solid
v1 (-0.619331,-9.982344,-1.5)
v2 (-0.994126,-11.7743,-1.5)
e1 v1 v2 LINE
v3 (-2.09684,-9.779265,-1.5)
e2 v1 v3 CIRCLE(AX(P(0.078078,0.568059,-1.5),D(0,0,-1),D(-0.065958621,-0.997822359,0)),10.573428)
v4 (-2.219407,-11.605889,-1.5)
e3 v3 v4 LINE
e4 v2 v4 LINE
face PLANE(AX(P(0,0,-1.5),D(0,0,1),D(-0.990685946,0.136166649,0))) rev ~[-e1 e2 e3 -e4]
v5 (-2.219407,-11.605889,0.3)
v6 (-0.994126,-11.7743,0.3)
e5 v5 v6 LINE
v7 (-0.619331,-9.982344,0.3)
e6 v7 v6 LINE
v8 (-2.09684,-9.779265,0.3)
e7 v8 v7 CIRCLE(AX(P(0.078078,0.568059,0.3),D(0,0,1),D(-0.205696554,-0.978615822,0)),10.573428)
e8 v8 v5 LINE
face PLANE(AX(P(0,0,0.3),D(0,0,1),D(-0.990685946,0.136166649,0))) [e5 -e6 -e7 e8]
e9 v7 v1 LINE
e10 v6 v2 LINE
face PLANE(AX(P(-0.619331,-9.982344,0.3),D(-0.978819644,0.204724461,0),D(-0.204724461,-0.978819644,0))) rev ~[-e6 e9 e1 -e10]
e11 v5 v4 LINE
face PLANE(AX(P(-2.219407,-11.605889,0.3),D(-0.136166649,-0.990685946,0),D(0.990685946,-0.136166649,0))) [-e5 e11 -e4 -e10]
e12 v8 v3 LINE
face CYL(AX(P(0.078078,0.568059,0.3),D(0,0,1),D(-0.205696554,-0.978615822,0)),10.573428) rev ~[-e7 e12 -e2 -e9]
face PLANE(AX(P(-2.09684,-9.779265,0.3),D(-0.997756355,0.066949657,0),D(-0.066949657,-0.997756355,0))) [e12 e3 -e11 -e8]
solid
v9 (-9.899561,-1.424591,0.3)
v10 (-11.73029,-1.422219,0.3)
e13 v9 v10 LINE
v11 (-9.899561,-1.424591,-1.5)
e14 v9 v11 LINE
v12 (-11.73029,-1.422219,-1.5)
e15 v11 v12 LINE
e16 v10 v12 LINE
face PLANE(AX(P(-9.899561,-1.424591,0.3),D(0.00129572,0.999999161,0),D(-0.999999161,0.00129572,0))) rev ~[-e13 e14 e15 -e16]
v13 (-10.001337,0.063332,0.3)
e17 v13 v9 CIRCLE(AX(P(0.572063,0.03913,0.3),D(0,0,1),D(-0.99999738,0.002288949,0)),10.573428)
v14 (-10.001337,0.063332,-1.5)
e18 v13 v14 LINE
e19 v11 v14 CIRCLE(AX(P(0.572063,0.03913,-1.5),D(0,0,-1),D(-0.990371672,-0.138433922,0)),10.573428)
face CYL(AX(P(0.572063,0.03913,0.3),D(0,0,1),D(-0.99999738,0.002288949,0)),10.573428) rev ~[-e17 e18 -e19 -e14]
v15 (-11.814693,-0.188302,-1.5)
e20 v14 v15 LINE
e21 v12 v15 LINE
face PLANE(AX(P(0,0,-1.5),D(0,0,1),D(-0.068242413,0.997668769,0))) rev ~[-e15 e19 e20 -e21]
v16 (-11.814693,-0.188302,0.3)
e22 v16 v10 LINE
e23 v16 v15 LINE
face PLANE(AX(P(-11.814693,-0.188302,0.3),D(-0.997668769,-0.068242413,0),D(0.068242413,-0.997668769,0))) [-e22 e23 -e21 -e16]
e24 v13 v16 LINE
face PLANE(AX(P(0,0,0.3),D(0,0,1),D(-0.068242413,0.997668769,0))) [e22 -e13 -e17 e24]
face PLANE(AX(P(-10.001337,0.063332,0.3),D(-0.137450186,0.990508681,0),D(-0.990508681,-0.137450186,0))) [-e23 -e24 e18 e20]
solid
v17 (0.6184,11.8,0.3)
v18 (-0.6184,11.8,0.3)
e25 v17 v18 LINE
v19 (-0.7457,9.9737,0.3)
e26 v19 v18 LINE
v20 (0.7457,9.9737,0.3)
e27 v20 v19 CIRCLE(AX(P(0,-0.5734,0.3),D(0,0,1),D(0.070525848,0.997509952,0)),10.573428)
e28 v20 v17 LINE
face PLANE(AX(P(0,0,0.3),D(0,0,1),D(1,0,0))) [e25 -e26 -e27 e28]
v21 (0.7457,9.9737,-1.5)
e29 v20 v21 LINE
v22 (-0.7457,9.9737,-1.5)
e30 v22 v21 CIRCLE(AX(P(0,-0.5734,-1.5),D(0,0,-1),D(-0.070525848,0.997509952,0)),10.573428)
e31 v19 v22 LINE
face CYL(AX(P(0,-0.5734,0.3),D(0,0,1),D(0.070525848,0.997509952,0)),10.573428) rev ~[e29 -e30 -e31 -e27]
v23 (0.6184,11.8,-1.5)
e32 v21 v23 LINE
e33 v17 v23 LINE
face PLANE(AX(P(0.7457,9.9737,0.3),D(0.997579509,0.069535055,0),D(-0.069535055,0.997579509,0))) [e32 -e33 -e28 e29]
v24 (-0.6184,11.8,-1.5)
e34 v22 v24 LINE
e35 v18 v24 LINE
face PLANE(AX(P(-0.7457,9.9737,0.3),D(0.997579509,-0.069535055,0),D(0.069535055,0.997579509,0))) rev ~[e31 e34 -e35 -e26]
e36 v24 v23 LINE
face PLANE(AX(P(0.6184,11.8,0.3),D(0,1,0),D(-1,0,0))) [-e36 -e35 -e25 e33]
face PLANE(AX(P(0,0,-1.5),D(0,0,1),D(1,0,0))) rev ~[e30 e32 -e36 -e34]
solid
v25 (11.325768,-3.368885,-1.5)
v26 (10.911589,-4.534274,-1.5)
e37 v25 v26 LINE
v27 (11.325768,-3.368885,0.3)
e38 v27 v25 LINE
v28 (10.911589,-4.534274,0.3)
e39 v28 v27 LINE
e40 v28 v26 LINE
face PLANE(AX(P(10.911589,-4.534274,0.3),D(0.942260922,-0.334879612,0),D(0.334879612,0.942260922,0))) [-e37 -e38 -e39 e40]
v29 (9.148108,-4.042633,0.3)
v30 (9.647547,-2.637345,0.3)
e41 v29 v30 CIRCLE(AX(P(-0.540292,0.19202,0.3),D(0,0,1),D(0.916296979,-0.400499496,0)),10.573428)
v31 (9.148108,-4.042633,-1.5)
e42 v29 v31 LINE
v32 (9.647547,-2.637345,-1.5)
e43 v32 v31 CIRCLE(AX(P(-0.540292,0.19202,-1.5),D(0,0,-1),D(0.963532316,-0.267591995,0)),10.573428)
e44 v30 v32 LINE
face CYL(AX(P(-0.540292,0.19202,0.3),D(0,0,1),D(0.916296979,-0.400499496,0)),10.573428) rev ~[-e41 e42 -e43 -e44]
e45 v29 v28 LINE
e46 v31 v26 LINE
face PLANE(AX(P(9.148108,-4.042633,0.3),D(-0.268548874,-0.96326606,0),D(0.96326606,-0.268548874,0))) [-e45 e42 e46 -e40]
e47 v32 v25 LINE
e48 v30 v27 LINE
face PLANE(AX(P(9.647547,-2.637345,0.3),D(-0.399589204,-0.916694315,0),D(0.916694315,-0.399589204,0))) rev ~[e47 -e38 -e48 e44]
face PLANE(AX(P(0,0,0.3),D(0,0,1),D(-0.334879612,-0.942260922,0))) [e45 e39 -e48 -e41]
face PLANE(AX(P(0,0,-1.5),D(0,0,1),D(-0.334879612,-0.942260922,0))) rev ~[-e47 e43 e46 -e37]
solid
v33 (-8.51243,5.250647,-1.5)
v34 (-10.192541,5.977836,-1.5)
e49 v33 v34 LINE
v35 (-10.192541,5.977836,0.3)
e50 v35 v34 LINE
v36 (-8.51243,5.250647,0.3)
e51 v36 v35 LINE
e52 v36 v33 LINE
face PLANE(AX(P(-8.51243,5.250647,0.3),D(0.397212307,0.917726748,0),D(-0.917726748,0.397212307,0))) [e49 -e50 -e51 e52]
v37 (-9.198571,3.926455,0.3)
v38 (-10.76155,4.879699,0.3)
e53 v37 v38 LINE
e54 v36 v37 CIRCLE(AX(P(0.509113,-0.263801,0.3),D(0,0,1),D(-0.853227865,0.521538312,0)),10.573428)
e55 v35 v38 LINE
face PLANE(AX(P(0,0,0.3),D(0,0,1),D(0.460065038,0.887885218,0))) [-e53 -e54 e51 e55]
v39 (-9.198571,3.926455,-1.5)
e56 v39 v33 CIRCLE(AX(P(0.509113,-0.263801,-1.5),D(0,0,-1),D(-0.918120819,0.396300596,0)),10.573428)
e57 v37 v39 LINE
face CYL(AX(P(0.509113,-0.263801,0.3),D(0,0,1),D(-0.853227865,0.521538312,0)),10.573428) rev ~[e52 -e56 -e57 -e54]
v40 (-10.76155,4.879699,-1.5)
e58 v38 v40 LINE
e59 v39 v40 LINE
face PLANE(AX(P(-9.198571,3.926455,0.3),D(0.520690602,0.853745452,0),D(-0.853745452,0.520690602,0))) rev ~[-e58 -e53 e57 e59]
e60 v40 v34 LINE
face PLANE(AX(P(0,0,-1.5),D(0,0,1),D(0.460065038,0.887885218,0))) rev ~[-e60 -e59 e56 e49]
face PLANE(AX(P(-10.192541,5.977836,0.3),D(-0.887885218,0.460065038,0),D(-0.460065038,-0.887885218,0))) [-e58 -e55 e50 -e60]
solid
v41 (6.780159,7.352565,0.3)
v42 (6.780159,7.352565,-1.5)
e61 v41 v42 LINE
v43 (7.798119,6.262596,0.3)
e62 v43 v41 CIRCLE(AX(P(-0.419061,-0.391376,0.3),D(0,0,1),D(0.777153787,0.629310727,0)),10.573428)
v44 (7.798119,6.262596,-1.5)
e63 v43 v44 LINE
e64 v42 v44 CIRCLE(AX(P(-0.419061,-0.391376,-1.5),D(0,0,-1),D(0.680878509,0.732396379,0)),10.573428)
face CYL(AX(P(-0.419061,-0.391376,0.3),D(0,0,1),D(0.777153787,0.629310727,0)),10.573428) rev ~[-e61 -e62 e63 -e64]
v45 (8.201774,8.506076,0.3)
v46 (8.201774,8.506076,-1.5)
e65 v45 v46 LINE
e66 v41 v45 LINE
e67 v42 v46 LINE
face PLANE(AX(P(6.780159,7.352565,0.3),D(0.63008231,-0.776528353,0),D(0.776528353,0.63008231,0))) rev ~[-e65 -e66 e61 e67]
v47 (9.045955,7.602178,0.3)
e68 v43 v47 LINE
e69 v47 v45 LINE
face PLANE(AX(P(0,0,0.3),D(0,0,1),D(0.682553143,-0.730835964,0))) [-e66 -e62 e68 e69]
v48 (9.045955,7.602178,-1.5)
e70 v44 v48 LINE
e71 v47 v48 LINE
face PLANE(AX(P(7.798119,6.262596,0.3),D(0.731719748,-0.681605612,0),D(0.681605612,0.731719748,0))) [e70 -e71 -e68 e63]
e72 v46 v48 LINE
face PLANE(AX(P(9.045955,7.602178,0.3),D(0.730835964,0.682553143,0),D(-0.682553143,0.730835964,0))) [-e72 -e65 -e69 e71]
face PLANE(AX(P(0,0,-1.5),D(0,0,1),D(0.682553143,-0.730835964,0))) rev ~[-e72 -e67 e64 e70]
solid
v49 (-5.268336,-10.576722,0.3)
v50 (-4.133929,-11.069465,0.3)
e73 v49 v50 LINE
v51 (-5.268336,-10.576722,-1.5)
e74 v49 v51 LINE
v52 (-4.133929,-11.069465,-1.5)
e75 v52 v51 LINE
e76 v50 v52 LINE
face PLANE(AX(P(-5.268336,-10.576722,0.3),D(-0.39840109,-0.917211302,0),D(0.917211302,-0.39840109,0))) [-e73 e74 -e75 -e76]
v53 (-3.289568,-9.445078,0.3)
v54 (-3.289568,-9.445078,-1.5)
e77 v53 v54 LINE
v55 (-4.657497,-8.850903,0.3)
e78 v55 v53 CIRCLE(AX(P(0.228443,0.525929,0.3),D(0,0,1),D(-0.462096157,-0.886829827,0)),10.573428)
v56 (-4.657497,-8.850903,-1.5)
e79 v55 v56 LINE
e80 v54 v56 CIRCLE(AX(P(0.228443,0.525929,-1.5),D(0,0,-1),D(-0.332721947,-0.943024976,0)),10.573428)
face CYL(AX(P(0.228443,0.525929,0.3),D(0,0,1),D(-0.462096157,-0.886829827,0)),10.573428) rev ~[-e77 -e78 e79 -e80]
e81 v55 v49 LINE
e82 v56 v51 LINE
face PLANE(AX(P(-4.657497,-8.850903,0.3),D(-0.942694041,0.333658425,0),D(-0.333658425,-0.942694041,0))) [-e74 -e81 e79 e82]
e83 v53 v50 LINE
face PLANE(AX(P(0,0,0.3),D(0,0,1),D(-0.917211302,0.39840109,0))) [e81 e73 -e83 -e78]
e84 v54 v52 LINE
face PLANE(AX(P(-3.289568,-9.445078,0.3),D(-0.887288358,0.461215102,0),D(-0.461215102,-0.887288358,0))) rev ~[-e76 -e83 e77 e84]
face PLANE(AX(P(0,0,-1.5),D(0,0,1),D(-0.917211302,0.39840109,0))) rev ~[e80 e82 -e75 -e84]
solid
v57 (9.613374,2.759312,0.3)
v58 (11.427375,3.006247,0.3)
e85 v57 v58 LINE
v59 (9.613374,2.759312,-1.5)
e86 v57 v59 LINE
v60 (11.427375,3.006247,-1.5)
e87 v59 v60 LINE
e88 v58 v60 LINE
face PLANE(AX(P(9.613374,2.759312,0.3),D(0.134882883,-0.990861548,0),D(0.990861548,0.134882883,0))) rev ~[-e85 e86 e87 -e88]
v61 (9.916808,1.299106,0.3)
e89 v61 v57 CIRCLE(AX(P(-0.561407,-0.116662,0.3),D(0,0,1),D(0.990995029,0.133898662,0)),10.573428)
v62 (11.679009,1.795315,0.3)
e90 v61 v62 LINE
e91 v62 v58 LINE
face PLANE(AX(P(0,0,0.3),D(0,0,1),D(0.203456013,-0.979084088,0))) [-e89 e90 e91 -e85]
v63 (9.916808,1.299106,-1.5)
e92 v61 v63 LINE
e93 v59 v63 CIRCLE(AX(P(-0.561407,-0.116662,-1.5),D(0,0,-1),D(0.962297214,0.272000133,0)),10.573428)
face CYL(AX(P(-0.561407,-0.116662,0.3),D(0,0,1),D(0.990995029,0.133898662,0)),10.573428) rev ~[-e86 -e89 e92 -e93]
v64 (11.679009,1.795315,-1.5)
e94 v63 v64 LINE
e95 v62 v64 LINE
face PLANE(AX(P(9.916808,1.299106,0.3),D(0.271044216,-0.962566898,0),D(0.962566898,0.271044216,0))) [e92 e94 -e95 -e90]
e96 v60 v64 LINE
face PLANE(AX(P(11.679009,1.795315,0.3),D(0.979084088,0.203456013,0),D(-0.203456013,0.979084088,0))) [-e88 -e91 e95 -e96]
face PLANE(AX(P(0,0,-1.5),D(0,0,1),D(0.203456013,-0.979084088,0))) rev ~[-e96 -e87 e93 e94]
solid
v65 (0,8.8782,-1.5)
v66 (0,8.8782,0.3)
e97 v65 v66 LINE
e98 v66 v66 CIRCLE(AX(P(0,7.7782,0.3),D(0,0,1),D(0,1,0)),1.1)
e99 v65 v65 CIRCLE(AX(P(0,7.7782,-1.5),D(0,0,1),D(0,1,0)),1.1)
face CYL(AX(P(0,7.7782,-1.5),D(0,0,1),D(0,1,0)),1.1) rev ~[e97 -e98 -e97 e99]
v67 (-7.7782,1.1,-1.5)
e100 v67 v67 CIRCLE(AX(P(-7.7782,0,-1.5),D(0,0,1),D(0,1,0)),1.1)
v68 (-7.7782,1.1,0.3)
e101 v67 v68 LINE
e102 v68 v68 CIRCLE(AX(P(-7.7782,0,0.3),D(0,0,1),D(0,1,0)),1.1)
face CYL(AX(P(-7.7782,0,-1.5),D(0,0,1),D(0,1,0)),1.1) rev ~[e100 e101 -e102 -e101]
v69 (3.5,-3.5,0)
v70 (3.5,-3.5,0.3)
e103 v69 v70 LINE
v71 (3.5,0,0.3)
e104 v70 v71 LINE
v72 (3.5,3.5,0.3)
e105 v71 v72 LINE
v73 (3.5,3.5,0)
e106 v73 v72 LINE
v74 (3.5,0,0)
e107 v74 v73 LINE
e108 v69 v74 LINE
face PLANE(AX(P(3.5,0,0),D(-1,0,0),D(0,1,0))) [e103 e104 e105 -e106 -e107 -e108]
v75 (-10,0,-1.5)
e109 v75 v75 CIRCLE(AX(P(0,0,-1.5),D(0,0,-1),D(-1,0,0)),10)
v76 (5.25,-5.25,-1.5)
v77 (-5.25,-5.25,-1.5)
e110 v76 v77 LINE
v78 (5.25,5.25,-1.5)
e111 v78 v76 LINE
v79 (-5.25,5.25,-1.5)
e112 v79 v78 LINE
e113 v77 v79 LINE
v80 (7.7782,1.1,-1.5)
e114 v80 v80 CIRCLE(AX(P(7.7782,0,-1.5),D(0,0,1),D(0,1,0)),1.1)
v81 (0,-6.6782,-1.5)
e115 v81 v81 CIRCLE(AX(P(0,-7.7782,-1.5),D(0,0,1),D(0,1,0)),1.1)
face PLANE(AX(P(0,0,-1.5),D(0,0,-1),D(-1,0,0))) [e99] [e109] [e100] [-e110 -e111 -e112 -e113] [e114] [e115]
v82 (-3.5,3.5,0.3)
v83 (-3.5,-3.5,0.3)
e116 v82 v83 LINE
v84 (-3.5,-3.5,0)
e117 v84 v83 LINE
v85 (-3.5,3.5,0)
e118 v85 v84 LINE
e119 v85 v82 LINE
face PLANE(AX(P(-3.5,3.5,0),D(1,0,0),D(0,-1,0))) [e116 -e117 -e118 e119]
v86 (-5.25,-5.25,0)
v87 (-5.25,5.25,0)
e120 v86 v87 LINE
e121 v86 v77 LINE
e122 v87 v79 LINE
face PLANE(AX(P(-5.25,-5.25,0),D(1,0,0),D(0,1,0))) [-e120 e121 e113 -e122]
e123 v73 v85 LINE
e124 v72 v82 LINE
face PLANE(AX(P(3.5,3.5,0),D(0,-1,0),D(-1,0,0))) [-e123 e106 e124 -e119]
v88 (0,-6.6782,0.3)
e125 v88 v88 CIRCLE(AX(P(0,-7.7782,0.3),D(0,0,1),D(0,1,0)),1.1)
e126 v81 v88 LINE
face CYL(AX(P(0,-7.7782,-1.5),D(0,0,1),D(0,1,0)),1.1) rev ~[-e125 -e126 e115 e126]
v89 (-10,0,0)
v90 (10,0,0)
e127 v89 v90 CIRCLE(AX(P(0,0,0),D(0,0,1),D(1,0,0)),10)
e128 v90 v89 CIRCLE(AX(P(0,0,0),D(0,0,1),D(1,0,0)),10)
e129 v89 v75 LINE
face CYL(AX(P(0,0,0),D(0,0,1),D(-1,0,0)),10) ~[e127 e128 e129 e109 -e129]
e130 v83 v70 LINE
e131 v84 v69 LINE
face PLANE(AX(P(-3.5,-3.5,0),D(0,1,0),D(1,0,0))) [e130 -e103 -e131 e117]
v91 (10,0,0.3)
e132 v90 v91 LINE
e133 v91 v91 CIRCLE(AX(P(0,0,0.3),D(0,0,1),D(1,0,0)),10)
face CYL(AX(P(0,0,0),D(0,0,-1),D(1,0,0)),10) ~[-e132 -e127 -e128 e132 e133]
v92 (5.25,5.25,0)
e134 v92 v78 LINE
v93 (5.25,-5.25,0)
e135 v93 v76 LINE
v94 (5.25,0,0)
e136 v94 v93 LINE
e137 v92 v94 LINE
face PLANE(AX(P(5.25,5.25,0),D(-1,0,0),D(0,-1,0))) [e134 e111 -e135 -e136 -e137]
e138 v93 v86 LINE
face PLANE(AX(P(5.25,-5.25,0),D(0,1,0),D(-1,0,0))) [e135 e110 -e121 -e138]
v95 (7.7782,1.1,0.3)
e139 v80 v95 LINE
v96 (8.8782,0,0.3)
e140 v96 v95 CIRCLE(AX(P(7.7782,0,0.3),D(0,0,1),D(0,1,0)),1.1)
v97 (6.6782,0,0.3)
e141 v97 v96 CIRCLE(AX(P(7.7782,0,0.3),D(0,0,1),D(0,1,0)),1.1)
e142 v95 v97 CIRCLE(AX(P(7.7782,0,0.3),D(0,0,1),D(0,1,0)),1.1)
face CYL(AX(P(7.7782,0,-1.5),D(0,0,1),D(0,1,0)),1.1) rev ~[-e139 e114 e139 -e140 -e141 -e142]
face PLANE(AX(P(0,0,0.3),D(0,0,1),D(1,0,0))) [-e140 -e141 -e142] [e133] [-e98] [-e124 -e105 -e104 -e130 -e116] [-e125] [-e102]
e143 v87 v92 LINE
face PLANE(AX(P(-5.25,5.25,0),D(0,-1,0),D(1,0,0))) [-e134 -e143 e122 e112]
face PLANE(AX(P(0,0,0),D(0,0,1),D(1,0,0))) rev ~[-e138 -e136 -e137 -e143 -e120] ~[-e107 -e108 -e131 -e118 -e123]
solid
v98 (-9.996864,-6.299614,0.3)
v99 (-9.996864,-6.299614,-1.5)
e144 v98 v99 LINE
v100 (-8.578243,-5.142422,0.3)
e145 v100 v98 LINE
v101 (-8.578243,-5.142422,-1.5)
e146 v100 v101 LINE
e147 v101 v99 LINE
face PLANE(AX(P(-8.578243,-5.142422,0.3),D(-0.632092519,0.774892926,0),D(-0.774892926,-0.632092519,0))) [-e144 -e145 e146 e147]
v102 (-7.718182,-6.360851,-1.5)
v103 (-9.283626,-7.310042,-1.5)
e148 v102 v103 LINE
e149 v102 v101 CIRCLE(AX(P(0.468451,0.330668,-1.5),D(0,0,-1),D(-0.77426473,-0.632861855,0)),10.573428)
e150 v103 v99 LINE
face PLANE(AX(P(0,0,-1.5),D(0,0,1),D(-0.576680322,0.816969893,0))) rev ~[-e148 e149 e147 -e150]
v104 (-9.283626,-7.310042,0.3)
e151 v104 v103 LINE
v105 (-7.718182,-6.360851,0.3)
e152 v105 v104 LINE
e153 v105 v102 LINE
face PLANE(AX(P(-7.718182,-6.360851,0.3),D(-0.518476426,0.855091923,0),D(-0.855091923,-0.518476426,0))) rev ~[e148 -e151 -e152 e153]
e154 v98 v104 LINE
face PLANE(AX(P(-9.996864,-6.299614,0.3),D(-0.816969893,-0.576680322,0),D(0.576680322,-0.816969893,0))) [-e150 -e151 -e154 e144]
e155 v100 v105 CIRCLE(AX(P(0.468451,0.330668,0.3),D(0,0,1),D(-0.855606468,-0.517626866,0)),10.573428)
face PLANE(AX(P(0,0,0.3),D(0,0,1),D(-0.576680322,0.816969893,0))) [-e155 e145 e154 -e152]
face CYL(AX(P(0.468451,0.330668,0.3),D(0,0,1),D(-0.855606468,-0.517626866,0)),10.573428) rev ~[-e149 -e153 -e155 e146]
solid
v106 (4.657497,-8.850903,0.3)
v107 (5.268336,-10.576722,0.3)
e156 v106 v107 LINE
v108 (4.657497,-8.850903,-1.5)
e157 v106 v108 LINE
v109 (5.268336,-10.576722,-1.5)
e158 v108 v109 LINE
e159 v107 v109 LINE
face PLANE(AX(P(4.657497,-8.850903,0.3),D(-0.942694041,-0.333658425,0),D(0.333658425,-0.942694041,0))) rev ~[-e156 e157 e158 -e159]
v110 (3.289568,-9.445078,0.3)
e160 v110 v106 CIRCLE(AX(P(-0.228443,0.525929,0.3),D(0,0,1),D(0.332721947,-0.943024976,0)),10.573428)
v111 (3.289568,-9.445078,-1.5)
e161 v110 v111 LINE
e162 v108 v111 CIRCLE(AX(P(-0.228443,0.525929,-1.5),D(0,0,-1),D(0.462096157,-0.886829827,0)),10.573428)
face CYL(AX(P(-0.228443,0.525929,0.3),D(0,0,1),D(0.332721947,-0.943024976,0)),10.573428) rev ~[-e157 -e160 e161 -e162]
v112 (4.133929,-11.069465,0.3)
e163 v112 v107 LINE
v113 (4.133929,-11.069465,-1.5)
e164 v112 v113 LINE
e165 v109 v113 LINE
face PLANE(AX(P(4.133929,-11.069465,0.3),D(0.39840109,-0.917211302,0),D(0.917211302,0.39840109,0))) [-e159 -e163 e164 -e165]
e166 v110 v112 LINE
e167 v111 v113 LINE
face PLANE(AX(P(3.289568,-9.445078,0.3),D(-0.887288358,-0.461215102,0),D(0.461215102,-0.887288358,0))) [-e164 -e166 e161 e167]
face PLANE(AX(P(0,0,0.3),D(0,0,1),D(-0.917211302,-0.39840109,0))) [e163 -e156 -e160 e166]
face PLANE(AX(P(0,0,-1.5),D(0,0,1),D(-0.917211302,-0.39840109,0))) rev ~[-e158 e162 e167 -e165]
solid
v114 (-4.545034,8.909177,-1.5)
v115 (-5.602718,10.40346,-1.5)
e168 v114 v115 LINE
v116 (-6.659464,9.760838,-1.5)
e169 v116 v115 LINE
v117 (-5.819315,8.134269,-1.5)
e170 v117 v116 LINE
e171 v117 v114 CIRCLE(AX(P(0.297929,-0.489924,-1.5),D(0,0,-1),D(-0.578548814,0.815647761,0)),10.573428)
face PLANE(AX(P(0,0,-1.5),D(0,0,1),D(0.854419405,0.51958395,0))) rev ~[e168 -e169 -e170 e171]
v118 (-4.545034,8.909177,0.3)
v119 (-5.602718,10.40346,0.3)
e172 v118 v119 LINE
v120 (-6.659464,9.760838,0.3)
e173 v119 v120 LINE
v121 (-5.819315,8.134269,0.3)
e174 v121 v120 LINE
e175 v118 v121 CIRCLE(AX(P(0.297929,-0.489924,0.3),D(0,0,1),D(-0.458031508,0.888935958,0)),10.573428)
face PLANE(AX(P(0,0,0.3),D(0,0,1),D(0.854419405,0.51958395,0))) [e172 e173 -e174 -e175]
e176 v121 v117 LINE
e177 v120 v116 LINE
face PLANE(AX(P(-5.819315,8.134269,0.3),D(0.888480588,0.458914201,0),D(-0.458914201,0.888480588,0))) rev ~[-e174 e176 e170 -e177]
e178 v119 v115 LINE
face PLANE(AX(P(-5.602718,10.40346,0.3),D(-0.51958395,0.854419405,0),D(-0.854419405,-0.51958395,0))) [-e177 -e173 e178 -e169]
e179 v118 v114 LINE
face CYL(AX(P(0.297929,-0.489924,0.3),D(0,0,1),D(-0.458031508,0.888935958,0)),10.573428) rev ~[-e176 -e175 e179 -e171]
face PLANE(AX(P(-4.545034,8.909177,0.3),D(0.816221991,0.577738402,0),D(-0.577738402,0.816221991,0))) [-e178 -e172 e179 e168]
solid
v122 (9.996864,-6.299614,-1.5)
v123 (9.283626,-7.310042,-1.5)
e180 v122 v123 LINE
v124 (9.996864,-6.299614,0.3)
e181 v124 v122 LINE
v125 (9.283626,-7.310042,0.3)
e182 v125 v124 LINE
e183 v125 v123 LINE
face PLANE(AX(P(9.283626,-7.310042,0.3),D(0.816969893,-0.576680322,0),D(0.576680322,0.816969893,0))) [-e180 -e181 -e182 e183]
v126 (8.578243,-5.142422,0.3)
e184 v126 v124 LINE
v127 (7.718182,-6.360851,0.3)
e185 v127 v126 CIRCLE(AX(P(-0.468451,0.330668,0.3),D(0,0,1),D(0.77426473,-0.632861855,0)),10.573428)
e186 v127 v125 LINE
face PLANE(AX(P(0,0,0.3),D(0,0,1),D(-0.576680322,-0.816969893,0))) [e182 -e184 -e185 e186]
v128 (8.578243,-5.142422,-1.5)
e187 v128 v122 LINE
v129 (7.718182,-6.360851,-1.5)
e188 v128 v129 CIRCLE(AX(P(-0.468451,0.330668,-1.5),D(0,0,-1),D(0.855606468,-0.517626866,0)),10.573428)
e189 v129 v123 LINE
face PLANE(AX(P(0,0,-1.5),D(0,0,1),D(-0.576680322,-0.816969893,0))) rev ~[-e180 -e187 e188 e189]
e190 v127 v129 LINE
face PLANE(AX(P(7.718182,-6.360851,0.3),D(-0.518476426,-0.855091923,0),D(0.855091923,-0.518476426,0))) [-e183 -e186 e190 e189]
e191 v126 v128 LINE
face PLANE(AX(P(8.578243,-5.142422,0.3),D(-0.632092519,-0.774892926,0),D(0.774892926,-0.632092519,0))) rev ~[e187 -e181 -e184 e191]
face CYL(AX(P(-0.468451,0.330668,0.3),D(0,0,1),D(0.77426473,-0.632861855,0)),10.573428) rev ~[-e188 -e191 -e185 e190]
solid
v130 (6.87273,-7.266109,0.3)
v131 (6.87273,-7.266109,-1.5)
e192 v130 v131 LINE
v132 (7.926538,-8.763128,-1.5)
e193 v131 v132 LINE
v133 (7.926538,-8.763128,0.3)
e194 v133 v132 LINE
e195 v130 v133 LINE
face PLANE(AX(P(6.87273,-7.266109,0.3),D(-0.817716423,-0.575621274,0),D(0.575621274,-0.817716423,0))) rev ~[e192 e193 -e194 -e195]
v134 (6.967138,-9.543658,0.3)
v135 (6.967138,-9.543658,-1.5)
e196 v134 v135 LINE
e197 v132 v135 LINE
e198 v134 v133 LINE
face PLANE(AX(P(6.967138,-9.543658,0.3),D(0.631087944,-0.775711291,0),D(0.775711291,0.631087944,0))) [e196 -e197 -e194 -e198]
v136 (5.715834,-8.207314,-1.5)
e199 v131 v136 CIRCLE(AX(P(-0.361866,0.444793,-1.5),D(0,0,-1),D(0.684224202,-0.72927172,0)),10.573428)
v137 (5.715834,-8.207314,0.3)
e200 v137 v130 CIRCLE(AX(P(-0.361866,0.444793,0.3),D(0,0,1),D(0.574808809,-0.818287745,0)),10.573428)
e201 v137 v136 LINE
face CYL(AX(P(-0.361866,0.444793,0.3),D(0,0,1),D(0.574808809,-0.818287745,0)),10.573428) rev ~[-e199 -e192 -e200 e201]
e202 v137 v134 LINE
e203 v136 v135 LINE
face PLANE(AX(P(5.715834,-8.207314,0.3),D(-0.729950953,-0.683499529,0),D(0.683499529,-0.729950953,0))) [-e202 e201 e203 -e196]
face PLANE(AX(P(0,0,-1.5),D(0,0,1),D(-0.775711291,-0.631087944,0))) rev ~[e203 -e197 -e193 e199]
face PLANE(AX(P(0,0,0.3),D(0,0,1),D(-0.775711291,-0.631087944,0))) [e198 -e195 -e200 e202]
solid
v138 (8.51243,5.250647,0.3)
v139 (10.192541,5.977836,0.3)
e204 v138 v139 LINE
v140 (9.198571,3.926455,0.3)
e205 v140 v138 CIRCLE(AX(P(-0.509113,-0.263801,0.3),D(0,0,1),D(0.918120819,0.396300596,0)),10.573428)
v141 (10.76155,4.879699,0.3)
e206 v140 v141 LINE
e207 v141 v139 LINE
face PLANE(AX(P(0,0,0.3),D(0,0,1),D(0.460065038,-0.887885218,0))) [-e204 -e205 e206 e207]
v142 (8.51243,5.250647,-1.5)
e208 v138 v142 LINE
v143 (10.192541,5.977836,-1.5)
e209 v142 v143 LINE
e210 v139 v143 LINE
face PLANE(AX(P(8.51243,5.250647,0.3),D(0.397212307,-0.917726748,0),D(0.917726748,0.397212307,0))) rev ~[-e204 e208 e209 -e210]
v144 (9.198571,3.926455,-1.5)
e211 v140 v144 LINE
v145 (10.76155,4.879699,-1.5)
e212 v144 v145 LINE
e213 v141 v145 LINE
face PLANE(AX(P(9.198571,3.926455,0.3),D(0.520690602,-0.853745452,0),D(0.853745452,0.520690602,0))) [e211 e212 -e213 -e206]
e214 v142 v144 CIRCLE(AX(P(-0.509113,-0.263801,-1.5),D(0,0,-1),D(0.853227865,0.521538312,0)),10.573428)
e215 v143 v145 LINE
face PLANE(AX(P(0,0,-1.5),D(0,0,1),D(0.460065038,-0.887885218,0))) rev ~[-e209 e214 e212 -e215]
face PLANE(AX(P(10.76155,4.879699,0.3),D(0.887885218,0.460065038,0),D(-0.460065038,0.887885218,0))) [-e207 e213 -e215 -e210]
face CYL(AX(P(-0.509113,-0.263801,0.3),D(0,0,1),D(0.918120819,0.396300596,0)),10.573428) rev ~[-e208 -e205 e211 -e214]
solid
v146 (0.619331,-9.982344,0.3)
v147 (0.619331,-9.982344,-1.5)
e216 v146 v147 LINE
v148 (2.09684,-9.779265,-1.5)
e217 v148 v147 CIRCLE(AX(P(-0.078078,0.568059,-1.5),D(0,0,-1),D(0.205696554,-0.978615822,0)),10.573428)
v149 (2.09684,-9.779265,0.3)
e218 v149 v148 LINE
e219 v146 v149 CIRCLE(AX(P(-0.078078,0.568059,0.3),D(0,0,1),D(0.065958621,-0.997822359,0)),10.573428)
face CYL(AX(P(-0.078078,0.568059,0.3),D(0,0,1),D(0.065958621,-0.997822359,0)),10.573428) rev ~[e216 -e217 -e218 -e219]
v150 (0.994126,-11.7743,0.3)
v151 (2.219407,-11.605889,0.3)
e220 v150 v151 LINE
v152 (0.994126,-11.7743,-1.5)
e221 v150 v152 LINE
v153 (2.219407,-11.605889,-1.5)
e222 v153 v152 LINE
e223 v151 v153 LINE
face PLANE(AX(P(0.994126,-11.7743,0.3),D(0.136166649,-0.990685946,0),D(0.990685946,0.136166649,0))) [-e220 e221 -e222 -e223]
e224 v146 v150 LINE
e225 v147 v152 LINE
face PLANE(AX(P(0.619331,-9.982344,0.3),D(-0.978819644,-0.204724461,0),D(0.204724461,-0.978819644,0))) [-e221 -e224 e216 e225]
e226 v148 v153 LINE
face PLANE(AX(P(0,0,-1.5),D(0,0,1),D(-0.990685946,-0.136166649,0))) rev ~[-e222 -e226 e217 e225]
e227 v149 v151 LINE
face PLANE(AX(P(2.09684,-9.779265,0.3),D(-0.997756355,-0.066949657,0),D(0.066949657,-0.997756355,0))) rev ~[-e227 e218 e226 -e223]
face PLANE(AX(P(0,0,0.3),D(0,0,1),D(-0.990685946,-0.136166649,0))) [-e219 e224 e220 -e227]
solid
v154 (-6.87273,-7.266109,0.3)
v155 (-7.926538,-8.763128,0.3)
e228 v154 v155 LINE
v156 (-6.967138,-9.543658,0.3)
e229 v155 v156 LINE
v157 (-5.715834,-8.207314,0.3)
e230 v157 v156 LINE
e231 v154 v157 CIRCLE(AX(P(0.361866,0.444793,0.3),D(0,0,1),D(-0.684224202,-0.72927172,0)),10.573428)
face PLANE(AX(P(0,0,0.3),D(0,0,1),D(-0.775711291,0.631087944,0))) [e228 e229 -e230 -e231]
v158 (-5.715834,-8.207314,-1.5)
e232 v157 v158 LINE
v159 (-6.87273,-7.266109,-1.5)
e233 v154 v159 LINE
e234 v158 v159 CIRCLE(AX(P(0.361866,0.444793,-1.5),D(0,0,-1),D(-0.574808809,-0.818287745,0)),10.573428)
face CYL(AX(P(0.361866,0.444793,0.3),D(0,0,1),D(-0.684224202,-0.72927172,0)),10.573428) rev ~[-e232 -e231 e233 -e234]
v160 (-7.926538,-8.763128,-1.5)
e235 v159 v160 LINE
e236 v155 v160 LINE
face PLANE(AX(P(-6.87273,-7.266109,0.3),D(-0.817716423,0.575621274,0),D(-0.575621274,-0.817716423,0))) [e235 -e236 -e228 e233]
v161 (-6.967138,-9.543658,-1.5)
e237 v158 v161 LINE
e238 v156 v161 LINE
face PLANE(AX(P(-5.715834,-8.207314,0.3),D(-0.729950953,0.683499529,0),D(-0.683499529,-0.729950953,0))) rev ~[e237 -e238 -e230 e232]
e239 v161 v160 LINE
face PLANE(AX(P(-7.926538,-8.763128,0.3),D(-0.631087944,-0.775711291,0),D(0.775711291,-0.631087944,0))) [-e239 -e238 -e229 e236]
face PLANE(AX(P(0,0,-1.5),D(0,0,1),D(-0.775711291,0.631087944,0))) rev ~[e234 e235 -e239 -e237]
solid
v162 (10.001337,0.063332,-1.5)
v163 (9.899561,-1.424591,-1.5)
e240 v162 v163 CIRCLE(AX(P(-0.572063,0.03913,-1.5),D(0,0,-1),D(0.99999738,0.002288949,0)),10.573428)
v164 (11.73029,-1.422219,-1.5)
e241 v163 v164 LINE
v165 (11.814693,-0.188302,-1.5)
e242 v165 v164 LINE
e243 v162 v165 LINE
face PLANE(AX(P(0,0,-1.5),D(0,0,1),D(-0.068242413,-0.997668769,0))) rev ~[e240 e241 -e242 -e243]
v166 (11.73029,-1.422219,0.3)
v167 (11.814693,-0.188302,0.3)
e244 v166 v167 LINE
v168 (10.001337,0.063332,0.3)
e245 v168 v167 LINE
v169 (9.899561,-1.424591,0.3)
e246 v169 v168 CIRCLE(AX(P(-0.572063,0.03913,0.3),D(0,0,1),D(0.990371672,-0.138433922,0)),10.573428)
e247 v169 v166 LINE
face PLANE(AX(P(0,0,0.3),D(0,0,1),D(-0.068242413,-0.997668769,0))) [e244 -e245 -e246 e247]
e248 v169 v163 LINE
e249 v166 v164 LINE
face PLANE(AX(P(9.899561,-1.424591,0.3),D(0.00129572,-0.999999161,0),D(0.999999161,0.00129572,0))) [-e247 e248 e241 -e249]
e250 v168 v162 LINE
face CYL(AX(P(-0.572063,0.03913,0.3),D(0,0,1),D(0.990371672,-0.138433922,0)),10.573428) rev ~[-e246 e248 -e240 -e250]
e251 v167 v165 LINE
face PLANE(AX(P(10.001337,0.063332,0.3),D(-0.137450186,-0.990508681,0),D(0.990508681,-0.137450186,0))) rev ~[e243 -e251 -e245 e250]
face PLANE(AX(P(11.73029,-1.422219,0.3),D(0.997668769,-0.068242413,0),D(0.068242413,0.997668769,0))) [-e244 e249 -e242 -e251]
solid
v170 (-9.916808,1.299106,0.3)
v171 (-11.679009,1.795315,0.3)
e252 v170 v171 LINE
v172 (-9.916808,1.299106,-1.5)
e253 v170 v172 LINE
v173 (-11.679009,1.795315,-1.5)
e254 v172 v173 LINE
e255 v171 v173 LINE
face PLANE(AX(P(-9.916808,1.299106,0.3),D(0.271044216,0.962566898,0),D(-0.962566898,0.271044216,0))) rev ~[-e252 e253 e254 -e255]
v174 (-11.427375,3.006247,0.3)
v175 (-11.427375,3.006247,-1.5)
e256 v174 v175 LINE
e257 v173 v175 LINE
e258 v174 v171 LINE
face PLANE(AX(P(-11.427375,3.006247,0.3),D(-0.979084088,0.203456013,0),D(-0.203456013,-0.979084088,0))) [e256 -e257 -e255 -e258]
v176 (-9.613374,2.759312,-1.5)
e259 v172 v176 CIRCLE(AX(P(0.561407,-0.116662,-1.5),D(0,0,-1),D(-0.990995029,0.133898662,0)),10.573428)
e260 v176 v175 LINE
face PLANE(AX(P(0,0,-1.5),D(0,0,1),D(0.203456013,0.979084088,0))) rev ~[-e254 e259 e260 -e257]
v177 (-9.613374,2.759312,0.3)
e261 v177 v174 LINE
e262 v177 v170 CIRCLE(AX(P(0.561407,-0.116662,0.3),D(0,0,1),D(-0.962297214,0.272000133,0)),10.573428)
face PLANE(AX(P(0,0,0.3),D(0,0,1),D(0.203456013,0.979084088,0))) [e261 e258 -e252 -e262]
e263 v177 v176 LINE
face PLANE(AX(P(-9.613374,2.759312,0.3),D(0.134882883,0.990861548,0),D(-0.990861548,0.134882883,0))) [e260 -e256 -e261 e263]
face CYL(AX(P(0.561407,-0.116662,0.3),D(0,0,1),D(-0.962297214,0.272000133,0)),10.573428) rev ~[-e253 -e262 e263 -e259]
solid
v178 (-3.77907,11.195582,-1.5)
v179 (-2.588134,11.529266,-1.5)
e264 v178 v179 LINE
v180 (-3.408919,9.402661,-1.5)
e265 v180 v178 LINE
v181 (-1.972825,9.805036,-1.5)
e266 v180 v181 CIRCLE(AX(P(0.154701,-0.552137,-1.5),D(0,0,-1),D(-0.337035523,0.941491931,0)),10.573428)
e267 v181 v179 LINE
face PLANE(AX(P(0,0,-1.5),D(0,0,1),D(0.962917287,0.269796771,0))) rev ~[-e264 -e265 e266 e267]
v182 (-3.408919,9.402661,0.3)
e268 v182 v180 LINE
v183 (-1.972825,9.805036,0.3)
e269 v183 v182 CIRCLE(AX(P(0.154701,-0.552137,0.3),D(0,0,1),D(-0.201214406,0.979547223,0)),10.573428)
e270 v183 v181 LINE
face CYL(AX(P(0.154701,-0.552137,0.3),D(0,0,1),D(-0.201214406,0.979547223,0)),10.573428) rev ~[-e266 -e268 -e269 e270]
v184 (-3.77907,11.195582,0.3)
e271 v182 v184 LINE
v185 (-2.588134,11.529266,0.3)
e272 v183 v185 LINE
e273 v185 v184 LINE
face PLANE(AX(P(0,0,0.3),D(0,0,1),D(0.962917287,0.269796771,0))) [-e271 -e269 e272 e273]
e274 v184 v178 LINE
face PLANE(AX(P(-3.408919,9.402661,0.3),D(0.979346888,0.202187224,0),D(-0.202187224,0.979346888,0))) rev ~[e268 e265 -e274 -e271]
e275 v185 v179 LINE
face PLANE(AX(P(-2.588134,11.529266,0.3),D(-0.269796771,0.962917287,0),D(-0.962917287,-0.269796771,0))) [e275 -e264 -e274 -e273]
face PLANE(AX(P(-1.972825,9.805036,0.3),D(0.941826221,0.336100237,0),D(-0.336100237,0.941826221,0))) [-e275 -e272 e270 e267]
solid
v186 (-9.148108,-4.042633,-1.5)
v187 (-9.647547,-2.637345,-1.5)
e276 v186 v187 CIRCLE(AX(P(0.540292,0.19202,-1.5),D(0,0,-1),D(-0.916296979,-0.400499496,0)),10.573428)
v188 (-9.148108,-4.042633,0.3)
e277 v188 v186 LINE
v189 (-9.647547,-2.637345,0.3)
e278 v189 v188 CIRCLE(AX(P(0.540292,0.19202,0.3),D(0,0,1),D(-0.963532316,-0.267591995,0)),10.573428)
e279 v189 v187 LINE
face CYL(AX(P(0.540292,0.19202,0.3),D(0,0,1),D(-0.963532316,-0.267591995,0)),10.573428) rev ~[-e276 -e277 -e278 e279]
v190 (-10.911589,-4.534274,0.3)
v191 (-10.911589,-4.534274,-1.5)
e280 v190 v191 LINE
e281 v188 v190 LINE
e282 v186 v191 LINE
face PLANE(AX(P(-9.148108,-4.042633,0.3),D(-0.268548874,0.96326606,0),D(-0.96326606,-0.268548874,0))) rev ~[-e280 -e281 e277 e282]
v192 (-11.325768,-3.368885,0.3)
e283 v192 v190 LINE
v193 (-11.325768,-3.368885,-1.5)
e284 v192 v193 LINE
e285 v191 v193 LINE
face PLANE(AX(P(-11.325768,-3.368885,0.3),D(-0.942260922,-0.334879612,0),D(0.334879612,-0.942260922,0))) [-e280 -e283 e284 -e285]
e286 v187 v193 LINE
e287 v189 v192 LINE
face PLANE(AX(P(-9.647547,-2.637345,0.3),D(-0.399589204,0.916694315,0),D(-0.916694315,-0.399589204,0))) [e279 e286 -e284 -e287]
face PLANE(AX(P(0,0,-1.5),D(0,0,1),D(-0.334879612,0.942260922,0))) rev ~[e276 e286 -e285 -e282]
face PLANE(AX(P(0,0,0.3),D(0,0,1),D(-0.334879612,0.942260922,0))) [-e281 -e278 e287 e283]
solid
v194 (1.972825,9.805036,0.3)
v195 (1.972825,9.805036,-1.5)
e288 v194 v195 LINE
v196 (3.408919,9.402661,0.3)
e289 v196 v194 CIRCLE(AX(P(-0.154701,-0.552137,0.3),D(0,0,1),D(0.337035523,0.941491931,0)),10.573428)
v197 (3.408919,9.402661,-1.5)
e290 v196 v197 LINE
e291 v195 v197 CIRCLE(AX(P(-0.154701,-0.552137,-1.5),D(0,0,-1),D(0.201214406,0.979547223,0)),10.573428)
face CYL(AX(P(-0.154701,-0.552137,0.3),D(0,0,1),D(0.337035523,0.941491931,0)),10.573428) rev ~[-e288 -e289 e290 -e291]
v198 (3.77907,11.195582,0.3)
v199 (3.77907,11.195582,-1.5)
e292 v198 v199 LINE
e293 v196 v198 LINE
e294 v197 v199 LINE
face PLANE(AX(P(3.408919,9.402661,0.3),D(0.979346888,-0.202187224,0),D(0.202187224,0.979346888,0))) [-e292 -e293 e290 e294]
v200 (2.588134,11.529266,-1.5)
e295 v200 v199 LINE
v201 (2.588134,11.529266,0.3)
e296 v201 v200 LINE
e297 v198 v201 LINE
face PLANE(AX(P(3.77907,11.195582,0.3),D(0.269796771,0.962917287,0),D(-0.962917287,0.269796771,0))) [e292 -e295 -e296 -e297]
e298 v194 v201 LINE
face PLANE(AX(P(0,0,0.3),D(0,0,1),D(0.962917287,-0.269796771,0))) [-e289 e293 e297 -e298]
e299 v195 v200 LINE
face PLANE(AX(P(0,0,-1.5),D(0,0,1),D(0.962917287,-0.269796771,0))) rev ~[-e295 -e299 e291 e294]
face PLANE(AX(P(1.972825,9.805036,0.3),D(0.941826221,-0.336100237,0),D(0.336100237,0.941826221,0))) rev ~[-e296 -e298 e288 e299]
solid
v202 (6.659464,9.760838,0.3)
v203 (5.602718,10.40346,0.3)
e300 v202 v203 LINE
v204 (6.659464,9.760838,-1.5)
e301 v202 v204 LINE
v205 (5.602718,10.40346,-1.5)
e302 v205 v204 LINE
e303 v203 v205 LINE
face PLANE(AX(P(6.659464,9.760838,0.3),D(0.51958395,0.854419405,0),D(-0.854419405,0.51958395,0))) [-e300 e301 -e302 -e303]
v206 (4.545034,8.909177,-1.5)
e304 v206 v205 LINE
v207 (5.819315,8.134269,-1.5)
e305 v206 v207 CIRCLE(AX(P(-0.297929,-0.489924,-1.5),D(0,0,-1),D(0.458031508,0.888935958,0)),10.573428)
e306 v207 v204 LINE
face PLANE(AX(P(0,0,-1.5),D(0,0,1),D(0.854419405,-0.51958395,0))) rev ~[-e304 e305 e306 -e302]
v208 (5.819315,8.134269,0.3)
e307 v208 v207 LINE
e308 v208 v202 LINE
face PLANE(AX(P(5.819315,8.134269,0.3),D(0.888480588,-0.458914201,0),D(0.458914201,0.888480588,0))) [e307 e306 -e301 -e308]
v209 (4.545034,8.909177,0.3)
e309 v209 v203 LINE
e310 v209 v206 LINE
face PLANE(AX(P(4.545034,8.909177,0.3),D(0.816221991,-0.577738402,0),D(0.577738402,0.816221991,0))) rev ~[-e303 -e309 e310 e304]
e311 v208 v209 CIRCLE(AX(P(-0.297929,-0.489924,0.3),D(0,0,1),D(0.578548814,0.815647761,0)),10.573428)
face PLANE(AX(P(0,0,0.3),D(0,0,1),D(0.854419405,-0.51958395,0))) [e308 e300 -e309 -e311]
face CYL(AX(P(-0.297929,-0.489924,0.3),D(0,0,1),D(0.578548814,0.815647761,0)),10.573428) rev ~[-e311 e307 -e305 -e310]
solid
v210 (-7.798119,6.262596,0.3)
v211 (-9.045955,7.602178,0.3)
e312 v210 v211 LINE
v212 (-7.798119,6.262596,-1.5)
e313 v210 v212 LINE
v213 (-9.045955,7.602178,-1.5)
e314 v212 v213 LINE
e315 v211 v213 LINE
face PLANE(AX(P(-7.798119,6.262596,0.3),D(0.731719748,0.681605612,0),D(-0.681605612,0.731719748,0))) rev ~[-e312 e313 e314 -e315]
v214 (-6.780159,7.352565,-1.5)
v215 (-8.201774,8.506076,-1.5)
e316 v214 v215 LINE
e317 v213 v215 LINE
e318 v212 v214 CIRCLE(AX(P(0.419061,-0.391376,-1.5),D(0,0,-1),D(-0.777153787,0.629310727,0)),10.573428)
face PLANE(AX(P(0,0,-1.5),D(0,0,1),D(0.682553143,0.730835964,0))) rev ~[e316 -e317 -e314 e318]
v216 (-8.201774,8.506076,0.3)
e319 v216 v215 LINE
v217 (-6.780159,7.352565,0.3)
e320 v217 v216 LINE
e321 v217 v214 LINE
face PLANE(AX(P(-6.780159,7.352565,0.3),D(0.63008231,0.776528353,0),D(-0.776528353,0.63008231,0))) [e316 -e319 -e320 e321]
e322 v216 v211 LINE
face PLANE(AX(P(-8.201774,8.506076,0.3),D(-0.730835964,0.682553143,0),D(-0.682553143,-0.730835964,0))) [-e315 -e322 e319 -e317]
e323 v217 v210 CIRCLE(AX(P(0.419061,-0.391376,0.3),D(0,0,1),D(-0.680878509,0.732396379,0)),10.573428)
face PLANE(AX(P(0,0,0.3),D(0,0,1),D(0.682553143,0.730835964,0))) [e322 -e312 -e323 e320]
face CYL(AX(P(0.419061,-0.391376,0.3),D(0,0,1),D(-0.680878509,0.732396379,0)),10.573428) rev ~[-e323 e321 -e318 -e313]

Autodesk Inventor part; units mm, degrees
ref_plane "YZ Plane" through (0, 0, 0) normal (1, 0, 0) x (0, 1, 0)
ref_plane "XZ Plane" through (0, 0, 0) normal (0, 1, 0) x (-1, 0, 0)
ref_plane "XY Plane" through (0, 0, 0) normal (0, 0, 1) x (1, 0, 0)
sketch "Sketch1" plane through (0, 0, 0) normal (0, 0, 1) x (1, 0, 0)
  line L0 (5.25, 5.25) -> (-5.25, 5.25) projected
  line L1 (-5.25, 5.25) -> (-5.25, -5.25) projected
  line L2 (-5.25, -5.25) -> (5.25, -5.25) projected
  line L3 (5.25, -5.25) -> (5.25, 5.25) projected
  circle A0 centre (0, 0) radius 10
  line L4 (0, 0) -> (11.1419, 0)
  line L5 (0, 0) -> (11.515, -1.2103) construction
  line L6 (0, 0) -> (11.5784, 0) construction
  line L7 (0, 0) -> (11.515, 1.2103) construction
  line L8 (0, 0) -> (11.5784, 0) construction
  line L9 (-3.5, -3.5) -> (3.5, -3.5)
  line L10 (3.5, -3.5) -> (3.5, 3.5)
  line L11 (3.5, 3.5) -> (-3.5, 3.5)
  line L12 (-3.5, 3.5) -> (-3.5, -3.5)
  line L13 (-3.5, -3.5) -> (3.5, 3.5) construction
  line L14 (3.5, -3.5) -> (-3.5, 3.5) construction
  dimension "d0" = 20
  dimension "d1" = 6
  dimension "d2" = 6
  dimension "d3" = 7
  dimension "d4" = 7
extrude "Extrusion1" add sketch "Sketch1" along normal blind 0.3 contours L3 L2 L1 L0 | A0
sketch "Sketch2" plane through (0, 0, 0) normal (0, 0, -1) x (-1, 0, 0)
  line L0 (5.25, 5.25) -> (-5.25, 5.25) projected
  line L1 (-5.25, 5.25) -> (-5.25, -5.25) projected
  line L2 (-5.25, -5.25) -> (5.25, -5.25) projected
  line L3 (5.25, -5.25) -> (5.25, 5.25) projected
  circle A0 centre (0, 0) radius 10 projected
extrude "Extrusion2" add sketch "Sketch2" along normal blind 1.5
sketch "Sketch3" plane through (0, 0, -1.5) normal (0, 0, -1) x (-1, 0, 0)
  circle A0 centre (0, 0) radius 10 projected
  line L0 (7.7782, 0) -> (0, -7.7782) construction
  line L1 (0, -7.7782) -> (-7.7782, 0) construction
  line L2 (-7.7782, 0) -> (0, 7.7782) construction
  line L3 (0, 7.7782) -> (7.7782, 0) construction
  line L4 (7.7782, 0) -> (-7.7782, 0) construction
  line L5 (0, -7.7782) -> (0, 7.7782) construction
  line L6 (7.7782, 0) -> (18.7782, 0) construction
  dimension "d9" = 11
  dimension "d10" = 135
  dimension "d11" = 11
hole "Hole1" at (-7.7782, 0, -1.5) at (0, -7.7782, -1.5) at (7.7782, 0, -1.5) at (0, 7.7782, -1.5) direction (0, 0, 1) diameter 2.2 depth 16 tip angle 118
sketch "Sketch4" plane through (0, 0, 0.3) normal (0, 0, 1) x (1, 0, 0)
  line L0 (0, 0) -> (0.7457, 9.9737) construction
  line L1 (0, 0) -> (10.0015, 0) construction
  line L2 (0, 0) -> (0, 9.9909) construction
  line L3 (0, 0) -> (1.7838, 9.8396) construction
  circle A0 centre (0, 0) radius 10 construction
  line L4 (0, 0) -> (10, 0) construction
  line L5 (0.7457, 9.9737) -> (0.6184, 11.8)
  line L6 (0.6184, 11.8) -> (0, 11.8)
  line L7 (0, 11.8) -> (0, 9.9909)
  line L8 (0.6184, 11.8) -> (0, 0) construction
  circle A1 centre (0, 0) radius 10 construction
  arc A2 (0.7457, 9.9737) -> (0, 10) centre (-0.0309, -1.4483) ccw construction
  line L9 (-0.7457, 9.9737) -> (-0.6184, 11.8)
  line L10 (-0.6184, 11.8) -> (0, 11.8)
  arc A3 (0, 10) -> (-0.7457, 9.9737) centre (0.0309, -1.4483) ccw construction
  arc A4 (0.7457, 9.9737) -> (-0.7457, 9.9737) centre (0, -0.5734) ccw construction
  arc A5 (0.7457, 9.9737) -> (-0.7457, 9.9737) centre (0, -0.5734) ccw
  point P0 (-1.7838, 9.8396)
  dimension "d28" = 3
  dimension "d29" = 4.276
  dimension "d30" = 6
  dimension "d31" = 11.8
extrude "Extrusion3" add sketch "Sketch4" against normal up to surface (1.8 mm away)
pattern_circular "Circular Pattern1" count 23 over 360 about axis through (0, 0, 0) along (0, 0, 1) of "Extrusion3"
sketch "Sketch5" plane through (0, 0, -1.5) normal (0, 0, -1) x (-1, 0, 0)
  point P0 (0, 0)
properties part number "200_Holder_Lambdaplate_1"
